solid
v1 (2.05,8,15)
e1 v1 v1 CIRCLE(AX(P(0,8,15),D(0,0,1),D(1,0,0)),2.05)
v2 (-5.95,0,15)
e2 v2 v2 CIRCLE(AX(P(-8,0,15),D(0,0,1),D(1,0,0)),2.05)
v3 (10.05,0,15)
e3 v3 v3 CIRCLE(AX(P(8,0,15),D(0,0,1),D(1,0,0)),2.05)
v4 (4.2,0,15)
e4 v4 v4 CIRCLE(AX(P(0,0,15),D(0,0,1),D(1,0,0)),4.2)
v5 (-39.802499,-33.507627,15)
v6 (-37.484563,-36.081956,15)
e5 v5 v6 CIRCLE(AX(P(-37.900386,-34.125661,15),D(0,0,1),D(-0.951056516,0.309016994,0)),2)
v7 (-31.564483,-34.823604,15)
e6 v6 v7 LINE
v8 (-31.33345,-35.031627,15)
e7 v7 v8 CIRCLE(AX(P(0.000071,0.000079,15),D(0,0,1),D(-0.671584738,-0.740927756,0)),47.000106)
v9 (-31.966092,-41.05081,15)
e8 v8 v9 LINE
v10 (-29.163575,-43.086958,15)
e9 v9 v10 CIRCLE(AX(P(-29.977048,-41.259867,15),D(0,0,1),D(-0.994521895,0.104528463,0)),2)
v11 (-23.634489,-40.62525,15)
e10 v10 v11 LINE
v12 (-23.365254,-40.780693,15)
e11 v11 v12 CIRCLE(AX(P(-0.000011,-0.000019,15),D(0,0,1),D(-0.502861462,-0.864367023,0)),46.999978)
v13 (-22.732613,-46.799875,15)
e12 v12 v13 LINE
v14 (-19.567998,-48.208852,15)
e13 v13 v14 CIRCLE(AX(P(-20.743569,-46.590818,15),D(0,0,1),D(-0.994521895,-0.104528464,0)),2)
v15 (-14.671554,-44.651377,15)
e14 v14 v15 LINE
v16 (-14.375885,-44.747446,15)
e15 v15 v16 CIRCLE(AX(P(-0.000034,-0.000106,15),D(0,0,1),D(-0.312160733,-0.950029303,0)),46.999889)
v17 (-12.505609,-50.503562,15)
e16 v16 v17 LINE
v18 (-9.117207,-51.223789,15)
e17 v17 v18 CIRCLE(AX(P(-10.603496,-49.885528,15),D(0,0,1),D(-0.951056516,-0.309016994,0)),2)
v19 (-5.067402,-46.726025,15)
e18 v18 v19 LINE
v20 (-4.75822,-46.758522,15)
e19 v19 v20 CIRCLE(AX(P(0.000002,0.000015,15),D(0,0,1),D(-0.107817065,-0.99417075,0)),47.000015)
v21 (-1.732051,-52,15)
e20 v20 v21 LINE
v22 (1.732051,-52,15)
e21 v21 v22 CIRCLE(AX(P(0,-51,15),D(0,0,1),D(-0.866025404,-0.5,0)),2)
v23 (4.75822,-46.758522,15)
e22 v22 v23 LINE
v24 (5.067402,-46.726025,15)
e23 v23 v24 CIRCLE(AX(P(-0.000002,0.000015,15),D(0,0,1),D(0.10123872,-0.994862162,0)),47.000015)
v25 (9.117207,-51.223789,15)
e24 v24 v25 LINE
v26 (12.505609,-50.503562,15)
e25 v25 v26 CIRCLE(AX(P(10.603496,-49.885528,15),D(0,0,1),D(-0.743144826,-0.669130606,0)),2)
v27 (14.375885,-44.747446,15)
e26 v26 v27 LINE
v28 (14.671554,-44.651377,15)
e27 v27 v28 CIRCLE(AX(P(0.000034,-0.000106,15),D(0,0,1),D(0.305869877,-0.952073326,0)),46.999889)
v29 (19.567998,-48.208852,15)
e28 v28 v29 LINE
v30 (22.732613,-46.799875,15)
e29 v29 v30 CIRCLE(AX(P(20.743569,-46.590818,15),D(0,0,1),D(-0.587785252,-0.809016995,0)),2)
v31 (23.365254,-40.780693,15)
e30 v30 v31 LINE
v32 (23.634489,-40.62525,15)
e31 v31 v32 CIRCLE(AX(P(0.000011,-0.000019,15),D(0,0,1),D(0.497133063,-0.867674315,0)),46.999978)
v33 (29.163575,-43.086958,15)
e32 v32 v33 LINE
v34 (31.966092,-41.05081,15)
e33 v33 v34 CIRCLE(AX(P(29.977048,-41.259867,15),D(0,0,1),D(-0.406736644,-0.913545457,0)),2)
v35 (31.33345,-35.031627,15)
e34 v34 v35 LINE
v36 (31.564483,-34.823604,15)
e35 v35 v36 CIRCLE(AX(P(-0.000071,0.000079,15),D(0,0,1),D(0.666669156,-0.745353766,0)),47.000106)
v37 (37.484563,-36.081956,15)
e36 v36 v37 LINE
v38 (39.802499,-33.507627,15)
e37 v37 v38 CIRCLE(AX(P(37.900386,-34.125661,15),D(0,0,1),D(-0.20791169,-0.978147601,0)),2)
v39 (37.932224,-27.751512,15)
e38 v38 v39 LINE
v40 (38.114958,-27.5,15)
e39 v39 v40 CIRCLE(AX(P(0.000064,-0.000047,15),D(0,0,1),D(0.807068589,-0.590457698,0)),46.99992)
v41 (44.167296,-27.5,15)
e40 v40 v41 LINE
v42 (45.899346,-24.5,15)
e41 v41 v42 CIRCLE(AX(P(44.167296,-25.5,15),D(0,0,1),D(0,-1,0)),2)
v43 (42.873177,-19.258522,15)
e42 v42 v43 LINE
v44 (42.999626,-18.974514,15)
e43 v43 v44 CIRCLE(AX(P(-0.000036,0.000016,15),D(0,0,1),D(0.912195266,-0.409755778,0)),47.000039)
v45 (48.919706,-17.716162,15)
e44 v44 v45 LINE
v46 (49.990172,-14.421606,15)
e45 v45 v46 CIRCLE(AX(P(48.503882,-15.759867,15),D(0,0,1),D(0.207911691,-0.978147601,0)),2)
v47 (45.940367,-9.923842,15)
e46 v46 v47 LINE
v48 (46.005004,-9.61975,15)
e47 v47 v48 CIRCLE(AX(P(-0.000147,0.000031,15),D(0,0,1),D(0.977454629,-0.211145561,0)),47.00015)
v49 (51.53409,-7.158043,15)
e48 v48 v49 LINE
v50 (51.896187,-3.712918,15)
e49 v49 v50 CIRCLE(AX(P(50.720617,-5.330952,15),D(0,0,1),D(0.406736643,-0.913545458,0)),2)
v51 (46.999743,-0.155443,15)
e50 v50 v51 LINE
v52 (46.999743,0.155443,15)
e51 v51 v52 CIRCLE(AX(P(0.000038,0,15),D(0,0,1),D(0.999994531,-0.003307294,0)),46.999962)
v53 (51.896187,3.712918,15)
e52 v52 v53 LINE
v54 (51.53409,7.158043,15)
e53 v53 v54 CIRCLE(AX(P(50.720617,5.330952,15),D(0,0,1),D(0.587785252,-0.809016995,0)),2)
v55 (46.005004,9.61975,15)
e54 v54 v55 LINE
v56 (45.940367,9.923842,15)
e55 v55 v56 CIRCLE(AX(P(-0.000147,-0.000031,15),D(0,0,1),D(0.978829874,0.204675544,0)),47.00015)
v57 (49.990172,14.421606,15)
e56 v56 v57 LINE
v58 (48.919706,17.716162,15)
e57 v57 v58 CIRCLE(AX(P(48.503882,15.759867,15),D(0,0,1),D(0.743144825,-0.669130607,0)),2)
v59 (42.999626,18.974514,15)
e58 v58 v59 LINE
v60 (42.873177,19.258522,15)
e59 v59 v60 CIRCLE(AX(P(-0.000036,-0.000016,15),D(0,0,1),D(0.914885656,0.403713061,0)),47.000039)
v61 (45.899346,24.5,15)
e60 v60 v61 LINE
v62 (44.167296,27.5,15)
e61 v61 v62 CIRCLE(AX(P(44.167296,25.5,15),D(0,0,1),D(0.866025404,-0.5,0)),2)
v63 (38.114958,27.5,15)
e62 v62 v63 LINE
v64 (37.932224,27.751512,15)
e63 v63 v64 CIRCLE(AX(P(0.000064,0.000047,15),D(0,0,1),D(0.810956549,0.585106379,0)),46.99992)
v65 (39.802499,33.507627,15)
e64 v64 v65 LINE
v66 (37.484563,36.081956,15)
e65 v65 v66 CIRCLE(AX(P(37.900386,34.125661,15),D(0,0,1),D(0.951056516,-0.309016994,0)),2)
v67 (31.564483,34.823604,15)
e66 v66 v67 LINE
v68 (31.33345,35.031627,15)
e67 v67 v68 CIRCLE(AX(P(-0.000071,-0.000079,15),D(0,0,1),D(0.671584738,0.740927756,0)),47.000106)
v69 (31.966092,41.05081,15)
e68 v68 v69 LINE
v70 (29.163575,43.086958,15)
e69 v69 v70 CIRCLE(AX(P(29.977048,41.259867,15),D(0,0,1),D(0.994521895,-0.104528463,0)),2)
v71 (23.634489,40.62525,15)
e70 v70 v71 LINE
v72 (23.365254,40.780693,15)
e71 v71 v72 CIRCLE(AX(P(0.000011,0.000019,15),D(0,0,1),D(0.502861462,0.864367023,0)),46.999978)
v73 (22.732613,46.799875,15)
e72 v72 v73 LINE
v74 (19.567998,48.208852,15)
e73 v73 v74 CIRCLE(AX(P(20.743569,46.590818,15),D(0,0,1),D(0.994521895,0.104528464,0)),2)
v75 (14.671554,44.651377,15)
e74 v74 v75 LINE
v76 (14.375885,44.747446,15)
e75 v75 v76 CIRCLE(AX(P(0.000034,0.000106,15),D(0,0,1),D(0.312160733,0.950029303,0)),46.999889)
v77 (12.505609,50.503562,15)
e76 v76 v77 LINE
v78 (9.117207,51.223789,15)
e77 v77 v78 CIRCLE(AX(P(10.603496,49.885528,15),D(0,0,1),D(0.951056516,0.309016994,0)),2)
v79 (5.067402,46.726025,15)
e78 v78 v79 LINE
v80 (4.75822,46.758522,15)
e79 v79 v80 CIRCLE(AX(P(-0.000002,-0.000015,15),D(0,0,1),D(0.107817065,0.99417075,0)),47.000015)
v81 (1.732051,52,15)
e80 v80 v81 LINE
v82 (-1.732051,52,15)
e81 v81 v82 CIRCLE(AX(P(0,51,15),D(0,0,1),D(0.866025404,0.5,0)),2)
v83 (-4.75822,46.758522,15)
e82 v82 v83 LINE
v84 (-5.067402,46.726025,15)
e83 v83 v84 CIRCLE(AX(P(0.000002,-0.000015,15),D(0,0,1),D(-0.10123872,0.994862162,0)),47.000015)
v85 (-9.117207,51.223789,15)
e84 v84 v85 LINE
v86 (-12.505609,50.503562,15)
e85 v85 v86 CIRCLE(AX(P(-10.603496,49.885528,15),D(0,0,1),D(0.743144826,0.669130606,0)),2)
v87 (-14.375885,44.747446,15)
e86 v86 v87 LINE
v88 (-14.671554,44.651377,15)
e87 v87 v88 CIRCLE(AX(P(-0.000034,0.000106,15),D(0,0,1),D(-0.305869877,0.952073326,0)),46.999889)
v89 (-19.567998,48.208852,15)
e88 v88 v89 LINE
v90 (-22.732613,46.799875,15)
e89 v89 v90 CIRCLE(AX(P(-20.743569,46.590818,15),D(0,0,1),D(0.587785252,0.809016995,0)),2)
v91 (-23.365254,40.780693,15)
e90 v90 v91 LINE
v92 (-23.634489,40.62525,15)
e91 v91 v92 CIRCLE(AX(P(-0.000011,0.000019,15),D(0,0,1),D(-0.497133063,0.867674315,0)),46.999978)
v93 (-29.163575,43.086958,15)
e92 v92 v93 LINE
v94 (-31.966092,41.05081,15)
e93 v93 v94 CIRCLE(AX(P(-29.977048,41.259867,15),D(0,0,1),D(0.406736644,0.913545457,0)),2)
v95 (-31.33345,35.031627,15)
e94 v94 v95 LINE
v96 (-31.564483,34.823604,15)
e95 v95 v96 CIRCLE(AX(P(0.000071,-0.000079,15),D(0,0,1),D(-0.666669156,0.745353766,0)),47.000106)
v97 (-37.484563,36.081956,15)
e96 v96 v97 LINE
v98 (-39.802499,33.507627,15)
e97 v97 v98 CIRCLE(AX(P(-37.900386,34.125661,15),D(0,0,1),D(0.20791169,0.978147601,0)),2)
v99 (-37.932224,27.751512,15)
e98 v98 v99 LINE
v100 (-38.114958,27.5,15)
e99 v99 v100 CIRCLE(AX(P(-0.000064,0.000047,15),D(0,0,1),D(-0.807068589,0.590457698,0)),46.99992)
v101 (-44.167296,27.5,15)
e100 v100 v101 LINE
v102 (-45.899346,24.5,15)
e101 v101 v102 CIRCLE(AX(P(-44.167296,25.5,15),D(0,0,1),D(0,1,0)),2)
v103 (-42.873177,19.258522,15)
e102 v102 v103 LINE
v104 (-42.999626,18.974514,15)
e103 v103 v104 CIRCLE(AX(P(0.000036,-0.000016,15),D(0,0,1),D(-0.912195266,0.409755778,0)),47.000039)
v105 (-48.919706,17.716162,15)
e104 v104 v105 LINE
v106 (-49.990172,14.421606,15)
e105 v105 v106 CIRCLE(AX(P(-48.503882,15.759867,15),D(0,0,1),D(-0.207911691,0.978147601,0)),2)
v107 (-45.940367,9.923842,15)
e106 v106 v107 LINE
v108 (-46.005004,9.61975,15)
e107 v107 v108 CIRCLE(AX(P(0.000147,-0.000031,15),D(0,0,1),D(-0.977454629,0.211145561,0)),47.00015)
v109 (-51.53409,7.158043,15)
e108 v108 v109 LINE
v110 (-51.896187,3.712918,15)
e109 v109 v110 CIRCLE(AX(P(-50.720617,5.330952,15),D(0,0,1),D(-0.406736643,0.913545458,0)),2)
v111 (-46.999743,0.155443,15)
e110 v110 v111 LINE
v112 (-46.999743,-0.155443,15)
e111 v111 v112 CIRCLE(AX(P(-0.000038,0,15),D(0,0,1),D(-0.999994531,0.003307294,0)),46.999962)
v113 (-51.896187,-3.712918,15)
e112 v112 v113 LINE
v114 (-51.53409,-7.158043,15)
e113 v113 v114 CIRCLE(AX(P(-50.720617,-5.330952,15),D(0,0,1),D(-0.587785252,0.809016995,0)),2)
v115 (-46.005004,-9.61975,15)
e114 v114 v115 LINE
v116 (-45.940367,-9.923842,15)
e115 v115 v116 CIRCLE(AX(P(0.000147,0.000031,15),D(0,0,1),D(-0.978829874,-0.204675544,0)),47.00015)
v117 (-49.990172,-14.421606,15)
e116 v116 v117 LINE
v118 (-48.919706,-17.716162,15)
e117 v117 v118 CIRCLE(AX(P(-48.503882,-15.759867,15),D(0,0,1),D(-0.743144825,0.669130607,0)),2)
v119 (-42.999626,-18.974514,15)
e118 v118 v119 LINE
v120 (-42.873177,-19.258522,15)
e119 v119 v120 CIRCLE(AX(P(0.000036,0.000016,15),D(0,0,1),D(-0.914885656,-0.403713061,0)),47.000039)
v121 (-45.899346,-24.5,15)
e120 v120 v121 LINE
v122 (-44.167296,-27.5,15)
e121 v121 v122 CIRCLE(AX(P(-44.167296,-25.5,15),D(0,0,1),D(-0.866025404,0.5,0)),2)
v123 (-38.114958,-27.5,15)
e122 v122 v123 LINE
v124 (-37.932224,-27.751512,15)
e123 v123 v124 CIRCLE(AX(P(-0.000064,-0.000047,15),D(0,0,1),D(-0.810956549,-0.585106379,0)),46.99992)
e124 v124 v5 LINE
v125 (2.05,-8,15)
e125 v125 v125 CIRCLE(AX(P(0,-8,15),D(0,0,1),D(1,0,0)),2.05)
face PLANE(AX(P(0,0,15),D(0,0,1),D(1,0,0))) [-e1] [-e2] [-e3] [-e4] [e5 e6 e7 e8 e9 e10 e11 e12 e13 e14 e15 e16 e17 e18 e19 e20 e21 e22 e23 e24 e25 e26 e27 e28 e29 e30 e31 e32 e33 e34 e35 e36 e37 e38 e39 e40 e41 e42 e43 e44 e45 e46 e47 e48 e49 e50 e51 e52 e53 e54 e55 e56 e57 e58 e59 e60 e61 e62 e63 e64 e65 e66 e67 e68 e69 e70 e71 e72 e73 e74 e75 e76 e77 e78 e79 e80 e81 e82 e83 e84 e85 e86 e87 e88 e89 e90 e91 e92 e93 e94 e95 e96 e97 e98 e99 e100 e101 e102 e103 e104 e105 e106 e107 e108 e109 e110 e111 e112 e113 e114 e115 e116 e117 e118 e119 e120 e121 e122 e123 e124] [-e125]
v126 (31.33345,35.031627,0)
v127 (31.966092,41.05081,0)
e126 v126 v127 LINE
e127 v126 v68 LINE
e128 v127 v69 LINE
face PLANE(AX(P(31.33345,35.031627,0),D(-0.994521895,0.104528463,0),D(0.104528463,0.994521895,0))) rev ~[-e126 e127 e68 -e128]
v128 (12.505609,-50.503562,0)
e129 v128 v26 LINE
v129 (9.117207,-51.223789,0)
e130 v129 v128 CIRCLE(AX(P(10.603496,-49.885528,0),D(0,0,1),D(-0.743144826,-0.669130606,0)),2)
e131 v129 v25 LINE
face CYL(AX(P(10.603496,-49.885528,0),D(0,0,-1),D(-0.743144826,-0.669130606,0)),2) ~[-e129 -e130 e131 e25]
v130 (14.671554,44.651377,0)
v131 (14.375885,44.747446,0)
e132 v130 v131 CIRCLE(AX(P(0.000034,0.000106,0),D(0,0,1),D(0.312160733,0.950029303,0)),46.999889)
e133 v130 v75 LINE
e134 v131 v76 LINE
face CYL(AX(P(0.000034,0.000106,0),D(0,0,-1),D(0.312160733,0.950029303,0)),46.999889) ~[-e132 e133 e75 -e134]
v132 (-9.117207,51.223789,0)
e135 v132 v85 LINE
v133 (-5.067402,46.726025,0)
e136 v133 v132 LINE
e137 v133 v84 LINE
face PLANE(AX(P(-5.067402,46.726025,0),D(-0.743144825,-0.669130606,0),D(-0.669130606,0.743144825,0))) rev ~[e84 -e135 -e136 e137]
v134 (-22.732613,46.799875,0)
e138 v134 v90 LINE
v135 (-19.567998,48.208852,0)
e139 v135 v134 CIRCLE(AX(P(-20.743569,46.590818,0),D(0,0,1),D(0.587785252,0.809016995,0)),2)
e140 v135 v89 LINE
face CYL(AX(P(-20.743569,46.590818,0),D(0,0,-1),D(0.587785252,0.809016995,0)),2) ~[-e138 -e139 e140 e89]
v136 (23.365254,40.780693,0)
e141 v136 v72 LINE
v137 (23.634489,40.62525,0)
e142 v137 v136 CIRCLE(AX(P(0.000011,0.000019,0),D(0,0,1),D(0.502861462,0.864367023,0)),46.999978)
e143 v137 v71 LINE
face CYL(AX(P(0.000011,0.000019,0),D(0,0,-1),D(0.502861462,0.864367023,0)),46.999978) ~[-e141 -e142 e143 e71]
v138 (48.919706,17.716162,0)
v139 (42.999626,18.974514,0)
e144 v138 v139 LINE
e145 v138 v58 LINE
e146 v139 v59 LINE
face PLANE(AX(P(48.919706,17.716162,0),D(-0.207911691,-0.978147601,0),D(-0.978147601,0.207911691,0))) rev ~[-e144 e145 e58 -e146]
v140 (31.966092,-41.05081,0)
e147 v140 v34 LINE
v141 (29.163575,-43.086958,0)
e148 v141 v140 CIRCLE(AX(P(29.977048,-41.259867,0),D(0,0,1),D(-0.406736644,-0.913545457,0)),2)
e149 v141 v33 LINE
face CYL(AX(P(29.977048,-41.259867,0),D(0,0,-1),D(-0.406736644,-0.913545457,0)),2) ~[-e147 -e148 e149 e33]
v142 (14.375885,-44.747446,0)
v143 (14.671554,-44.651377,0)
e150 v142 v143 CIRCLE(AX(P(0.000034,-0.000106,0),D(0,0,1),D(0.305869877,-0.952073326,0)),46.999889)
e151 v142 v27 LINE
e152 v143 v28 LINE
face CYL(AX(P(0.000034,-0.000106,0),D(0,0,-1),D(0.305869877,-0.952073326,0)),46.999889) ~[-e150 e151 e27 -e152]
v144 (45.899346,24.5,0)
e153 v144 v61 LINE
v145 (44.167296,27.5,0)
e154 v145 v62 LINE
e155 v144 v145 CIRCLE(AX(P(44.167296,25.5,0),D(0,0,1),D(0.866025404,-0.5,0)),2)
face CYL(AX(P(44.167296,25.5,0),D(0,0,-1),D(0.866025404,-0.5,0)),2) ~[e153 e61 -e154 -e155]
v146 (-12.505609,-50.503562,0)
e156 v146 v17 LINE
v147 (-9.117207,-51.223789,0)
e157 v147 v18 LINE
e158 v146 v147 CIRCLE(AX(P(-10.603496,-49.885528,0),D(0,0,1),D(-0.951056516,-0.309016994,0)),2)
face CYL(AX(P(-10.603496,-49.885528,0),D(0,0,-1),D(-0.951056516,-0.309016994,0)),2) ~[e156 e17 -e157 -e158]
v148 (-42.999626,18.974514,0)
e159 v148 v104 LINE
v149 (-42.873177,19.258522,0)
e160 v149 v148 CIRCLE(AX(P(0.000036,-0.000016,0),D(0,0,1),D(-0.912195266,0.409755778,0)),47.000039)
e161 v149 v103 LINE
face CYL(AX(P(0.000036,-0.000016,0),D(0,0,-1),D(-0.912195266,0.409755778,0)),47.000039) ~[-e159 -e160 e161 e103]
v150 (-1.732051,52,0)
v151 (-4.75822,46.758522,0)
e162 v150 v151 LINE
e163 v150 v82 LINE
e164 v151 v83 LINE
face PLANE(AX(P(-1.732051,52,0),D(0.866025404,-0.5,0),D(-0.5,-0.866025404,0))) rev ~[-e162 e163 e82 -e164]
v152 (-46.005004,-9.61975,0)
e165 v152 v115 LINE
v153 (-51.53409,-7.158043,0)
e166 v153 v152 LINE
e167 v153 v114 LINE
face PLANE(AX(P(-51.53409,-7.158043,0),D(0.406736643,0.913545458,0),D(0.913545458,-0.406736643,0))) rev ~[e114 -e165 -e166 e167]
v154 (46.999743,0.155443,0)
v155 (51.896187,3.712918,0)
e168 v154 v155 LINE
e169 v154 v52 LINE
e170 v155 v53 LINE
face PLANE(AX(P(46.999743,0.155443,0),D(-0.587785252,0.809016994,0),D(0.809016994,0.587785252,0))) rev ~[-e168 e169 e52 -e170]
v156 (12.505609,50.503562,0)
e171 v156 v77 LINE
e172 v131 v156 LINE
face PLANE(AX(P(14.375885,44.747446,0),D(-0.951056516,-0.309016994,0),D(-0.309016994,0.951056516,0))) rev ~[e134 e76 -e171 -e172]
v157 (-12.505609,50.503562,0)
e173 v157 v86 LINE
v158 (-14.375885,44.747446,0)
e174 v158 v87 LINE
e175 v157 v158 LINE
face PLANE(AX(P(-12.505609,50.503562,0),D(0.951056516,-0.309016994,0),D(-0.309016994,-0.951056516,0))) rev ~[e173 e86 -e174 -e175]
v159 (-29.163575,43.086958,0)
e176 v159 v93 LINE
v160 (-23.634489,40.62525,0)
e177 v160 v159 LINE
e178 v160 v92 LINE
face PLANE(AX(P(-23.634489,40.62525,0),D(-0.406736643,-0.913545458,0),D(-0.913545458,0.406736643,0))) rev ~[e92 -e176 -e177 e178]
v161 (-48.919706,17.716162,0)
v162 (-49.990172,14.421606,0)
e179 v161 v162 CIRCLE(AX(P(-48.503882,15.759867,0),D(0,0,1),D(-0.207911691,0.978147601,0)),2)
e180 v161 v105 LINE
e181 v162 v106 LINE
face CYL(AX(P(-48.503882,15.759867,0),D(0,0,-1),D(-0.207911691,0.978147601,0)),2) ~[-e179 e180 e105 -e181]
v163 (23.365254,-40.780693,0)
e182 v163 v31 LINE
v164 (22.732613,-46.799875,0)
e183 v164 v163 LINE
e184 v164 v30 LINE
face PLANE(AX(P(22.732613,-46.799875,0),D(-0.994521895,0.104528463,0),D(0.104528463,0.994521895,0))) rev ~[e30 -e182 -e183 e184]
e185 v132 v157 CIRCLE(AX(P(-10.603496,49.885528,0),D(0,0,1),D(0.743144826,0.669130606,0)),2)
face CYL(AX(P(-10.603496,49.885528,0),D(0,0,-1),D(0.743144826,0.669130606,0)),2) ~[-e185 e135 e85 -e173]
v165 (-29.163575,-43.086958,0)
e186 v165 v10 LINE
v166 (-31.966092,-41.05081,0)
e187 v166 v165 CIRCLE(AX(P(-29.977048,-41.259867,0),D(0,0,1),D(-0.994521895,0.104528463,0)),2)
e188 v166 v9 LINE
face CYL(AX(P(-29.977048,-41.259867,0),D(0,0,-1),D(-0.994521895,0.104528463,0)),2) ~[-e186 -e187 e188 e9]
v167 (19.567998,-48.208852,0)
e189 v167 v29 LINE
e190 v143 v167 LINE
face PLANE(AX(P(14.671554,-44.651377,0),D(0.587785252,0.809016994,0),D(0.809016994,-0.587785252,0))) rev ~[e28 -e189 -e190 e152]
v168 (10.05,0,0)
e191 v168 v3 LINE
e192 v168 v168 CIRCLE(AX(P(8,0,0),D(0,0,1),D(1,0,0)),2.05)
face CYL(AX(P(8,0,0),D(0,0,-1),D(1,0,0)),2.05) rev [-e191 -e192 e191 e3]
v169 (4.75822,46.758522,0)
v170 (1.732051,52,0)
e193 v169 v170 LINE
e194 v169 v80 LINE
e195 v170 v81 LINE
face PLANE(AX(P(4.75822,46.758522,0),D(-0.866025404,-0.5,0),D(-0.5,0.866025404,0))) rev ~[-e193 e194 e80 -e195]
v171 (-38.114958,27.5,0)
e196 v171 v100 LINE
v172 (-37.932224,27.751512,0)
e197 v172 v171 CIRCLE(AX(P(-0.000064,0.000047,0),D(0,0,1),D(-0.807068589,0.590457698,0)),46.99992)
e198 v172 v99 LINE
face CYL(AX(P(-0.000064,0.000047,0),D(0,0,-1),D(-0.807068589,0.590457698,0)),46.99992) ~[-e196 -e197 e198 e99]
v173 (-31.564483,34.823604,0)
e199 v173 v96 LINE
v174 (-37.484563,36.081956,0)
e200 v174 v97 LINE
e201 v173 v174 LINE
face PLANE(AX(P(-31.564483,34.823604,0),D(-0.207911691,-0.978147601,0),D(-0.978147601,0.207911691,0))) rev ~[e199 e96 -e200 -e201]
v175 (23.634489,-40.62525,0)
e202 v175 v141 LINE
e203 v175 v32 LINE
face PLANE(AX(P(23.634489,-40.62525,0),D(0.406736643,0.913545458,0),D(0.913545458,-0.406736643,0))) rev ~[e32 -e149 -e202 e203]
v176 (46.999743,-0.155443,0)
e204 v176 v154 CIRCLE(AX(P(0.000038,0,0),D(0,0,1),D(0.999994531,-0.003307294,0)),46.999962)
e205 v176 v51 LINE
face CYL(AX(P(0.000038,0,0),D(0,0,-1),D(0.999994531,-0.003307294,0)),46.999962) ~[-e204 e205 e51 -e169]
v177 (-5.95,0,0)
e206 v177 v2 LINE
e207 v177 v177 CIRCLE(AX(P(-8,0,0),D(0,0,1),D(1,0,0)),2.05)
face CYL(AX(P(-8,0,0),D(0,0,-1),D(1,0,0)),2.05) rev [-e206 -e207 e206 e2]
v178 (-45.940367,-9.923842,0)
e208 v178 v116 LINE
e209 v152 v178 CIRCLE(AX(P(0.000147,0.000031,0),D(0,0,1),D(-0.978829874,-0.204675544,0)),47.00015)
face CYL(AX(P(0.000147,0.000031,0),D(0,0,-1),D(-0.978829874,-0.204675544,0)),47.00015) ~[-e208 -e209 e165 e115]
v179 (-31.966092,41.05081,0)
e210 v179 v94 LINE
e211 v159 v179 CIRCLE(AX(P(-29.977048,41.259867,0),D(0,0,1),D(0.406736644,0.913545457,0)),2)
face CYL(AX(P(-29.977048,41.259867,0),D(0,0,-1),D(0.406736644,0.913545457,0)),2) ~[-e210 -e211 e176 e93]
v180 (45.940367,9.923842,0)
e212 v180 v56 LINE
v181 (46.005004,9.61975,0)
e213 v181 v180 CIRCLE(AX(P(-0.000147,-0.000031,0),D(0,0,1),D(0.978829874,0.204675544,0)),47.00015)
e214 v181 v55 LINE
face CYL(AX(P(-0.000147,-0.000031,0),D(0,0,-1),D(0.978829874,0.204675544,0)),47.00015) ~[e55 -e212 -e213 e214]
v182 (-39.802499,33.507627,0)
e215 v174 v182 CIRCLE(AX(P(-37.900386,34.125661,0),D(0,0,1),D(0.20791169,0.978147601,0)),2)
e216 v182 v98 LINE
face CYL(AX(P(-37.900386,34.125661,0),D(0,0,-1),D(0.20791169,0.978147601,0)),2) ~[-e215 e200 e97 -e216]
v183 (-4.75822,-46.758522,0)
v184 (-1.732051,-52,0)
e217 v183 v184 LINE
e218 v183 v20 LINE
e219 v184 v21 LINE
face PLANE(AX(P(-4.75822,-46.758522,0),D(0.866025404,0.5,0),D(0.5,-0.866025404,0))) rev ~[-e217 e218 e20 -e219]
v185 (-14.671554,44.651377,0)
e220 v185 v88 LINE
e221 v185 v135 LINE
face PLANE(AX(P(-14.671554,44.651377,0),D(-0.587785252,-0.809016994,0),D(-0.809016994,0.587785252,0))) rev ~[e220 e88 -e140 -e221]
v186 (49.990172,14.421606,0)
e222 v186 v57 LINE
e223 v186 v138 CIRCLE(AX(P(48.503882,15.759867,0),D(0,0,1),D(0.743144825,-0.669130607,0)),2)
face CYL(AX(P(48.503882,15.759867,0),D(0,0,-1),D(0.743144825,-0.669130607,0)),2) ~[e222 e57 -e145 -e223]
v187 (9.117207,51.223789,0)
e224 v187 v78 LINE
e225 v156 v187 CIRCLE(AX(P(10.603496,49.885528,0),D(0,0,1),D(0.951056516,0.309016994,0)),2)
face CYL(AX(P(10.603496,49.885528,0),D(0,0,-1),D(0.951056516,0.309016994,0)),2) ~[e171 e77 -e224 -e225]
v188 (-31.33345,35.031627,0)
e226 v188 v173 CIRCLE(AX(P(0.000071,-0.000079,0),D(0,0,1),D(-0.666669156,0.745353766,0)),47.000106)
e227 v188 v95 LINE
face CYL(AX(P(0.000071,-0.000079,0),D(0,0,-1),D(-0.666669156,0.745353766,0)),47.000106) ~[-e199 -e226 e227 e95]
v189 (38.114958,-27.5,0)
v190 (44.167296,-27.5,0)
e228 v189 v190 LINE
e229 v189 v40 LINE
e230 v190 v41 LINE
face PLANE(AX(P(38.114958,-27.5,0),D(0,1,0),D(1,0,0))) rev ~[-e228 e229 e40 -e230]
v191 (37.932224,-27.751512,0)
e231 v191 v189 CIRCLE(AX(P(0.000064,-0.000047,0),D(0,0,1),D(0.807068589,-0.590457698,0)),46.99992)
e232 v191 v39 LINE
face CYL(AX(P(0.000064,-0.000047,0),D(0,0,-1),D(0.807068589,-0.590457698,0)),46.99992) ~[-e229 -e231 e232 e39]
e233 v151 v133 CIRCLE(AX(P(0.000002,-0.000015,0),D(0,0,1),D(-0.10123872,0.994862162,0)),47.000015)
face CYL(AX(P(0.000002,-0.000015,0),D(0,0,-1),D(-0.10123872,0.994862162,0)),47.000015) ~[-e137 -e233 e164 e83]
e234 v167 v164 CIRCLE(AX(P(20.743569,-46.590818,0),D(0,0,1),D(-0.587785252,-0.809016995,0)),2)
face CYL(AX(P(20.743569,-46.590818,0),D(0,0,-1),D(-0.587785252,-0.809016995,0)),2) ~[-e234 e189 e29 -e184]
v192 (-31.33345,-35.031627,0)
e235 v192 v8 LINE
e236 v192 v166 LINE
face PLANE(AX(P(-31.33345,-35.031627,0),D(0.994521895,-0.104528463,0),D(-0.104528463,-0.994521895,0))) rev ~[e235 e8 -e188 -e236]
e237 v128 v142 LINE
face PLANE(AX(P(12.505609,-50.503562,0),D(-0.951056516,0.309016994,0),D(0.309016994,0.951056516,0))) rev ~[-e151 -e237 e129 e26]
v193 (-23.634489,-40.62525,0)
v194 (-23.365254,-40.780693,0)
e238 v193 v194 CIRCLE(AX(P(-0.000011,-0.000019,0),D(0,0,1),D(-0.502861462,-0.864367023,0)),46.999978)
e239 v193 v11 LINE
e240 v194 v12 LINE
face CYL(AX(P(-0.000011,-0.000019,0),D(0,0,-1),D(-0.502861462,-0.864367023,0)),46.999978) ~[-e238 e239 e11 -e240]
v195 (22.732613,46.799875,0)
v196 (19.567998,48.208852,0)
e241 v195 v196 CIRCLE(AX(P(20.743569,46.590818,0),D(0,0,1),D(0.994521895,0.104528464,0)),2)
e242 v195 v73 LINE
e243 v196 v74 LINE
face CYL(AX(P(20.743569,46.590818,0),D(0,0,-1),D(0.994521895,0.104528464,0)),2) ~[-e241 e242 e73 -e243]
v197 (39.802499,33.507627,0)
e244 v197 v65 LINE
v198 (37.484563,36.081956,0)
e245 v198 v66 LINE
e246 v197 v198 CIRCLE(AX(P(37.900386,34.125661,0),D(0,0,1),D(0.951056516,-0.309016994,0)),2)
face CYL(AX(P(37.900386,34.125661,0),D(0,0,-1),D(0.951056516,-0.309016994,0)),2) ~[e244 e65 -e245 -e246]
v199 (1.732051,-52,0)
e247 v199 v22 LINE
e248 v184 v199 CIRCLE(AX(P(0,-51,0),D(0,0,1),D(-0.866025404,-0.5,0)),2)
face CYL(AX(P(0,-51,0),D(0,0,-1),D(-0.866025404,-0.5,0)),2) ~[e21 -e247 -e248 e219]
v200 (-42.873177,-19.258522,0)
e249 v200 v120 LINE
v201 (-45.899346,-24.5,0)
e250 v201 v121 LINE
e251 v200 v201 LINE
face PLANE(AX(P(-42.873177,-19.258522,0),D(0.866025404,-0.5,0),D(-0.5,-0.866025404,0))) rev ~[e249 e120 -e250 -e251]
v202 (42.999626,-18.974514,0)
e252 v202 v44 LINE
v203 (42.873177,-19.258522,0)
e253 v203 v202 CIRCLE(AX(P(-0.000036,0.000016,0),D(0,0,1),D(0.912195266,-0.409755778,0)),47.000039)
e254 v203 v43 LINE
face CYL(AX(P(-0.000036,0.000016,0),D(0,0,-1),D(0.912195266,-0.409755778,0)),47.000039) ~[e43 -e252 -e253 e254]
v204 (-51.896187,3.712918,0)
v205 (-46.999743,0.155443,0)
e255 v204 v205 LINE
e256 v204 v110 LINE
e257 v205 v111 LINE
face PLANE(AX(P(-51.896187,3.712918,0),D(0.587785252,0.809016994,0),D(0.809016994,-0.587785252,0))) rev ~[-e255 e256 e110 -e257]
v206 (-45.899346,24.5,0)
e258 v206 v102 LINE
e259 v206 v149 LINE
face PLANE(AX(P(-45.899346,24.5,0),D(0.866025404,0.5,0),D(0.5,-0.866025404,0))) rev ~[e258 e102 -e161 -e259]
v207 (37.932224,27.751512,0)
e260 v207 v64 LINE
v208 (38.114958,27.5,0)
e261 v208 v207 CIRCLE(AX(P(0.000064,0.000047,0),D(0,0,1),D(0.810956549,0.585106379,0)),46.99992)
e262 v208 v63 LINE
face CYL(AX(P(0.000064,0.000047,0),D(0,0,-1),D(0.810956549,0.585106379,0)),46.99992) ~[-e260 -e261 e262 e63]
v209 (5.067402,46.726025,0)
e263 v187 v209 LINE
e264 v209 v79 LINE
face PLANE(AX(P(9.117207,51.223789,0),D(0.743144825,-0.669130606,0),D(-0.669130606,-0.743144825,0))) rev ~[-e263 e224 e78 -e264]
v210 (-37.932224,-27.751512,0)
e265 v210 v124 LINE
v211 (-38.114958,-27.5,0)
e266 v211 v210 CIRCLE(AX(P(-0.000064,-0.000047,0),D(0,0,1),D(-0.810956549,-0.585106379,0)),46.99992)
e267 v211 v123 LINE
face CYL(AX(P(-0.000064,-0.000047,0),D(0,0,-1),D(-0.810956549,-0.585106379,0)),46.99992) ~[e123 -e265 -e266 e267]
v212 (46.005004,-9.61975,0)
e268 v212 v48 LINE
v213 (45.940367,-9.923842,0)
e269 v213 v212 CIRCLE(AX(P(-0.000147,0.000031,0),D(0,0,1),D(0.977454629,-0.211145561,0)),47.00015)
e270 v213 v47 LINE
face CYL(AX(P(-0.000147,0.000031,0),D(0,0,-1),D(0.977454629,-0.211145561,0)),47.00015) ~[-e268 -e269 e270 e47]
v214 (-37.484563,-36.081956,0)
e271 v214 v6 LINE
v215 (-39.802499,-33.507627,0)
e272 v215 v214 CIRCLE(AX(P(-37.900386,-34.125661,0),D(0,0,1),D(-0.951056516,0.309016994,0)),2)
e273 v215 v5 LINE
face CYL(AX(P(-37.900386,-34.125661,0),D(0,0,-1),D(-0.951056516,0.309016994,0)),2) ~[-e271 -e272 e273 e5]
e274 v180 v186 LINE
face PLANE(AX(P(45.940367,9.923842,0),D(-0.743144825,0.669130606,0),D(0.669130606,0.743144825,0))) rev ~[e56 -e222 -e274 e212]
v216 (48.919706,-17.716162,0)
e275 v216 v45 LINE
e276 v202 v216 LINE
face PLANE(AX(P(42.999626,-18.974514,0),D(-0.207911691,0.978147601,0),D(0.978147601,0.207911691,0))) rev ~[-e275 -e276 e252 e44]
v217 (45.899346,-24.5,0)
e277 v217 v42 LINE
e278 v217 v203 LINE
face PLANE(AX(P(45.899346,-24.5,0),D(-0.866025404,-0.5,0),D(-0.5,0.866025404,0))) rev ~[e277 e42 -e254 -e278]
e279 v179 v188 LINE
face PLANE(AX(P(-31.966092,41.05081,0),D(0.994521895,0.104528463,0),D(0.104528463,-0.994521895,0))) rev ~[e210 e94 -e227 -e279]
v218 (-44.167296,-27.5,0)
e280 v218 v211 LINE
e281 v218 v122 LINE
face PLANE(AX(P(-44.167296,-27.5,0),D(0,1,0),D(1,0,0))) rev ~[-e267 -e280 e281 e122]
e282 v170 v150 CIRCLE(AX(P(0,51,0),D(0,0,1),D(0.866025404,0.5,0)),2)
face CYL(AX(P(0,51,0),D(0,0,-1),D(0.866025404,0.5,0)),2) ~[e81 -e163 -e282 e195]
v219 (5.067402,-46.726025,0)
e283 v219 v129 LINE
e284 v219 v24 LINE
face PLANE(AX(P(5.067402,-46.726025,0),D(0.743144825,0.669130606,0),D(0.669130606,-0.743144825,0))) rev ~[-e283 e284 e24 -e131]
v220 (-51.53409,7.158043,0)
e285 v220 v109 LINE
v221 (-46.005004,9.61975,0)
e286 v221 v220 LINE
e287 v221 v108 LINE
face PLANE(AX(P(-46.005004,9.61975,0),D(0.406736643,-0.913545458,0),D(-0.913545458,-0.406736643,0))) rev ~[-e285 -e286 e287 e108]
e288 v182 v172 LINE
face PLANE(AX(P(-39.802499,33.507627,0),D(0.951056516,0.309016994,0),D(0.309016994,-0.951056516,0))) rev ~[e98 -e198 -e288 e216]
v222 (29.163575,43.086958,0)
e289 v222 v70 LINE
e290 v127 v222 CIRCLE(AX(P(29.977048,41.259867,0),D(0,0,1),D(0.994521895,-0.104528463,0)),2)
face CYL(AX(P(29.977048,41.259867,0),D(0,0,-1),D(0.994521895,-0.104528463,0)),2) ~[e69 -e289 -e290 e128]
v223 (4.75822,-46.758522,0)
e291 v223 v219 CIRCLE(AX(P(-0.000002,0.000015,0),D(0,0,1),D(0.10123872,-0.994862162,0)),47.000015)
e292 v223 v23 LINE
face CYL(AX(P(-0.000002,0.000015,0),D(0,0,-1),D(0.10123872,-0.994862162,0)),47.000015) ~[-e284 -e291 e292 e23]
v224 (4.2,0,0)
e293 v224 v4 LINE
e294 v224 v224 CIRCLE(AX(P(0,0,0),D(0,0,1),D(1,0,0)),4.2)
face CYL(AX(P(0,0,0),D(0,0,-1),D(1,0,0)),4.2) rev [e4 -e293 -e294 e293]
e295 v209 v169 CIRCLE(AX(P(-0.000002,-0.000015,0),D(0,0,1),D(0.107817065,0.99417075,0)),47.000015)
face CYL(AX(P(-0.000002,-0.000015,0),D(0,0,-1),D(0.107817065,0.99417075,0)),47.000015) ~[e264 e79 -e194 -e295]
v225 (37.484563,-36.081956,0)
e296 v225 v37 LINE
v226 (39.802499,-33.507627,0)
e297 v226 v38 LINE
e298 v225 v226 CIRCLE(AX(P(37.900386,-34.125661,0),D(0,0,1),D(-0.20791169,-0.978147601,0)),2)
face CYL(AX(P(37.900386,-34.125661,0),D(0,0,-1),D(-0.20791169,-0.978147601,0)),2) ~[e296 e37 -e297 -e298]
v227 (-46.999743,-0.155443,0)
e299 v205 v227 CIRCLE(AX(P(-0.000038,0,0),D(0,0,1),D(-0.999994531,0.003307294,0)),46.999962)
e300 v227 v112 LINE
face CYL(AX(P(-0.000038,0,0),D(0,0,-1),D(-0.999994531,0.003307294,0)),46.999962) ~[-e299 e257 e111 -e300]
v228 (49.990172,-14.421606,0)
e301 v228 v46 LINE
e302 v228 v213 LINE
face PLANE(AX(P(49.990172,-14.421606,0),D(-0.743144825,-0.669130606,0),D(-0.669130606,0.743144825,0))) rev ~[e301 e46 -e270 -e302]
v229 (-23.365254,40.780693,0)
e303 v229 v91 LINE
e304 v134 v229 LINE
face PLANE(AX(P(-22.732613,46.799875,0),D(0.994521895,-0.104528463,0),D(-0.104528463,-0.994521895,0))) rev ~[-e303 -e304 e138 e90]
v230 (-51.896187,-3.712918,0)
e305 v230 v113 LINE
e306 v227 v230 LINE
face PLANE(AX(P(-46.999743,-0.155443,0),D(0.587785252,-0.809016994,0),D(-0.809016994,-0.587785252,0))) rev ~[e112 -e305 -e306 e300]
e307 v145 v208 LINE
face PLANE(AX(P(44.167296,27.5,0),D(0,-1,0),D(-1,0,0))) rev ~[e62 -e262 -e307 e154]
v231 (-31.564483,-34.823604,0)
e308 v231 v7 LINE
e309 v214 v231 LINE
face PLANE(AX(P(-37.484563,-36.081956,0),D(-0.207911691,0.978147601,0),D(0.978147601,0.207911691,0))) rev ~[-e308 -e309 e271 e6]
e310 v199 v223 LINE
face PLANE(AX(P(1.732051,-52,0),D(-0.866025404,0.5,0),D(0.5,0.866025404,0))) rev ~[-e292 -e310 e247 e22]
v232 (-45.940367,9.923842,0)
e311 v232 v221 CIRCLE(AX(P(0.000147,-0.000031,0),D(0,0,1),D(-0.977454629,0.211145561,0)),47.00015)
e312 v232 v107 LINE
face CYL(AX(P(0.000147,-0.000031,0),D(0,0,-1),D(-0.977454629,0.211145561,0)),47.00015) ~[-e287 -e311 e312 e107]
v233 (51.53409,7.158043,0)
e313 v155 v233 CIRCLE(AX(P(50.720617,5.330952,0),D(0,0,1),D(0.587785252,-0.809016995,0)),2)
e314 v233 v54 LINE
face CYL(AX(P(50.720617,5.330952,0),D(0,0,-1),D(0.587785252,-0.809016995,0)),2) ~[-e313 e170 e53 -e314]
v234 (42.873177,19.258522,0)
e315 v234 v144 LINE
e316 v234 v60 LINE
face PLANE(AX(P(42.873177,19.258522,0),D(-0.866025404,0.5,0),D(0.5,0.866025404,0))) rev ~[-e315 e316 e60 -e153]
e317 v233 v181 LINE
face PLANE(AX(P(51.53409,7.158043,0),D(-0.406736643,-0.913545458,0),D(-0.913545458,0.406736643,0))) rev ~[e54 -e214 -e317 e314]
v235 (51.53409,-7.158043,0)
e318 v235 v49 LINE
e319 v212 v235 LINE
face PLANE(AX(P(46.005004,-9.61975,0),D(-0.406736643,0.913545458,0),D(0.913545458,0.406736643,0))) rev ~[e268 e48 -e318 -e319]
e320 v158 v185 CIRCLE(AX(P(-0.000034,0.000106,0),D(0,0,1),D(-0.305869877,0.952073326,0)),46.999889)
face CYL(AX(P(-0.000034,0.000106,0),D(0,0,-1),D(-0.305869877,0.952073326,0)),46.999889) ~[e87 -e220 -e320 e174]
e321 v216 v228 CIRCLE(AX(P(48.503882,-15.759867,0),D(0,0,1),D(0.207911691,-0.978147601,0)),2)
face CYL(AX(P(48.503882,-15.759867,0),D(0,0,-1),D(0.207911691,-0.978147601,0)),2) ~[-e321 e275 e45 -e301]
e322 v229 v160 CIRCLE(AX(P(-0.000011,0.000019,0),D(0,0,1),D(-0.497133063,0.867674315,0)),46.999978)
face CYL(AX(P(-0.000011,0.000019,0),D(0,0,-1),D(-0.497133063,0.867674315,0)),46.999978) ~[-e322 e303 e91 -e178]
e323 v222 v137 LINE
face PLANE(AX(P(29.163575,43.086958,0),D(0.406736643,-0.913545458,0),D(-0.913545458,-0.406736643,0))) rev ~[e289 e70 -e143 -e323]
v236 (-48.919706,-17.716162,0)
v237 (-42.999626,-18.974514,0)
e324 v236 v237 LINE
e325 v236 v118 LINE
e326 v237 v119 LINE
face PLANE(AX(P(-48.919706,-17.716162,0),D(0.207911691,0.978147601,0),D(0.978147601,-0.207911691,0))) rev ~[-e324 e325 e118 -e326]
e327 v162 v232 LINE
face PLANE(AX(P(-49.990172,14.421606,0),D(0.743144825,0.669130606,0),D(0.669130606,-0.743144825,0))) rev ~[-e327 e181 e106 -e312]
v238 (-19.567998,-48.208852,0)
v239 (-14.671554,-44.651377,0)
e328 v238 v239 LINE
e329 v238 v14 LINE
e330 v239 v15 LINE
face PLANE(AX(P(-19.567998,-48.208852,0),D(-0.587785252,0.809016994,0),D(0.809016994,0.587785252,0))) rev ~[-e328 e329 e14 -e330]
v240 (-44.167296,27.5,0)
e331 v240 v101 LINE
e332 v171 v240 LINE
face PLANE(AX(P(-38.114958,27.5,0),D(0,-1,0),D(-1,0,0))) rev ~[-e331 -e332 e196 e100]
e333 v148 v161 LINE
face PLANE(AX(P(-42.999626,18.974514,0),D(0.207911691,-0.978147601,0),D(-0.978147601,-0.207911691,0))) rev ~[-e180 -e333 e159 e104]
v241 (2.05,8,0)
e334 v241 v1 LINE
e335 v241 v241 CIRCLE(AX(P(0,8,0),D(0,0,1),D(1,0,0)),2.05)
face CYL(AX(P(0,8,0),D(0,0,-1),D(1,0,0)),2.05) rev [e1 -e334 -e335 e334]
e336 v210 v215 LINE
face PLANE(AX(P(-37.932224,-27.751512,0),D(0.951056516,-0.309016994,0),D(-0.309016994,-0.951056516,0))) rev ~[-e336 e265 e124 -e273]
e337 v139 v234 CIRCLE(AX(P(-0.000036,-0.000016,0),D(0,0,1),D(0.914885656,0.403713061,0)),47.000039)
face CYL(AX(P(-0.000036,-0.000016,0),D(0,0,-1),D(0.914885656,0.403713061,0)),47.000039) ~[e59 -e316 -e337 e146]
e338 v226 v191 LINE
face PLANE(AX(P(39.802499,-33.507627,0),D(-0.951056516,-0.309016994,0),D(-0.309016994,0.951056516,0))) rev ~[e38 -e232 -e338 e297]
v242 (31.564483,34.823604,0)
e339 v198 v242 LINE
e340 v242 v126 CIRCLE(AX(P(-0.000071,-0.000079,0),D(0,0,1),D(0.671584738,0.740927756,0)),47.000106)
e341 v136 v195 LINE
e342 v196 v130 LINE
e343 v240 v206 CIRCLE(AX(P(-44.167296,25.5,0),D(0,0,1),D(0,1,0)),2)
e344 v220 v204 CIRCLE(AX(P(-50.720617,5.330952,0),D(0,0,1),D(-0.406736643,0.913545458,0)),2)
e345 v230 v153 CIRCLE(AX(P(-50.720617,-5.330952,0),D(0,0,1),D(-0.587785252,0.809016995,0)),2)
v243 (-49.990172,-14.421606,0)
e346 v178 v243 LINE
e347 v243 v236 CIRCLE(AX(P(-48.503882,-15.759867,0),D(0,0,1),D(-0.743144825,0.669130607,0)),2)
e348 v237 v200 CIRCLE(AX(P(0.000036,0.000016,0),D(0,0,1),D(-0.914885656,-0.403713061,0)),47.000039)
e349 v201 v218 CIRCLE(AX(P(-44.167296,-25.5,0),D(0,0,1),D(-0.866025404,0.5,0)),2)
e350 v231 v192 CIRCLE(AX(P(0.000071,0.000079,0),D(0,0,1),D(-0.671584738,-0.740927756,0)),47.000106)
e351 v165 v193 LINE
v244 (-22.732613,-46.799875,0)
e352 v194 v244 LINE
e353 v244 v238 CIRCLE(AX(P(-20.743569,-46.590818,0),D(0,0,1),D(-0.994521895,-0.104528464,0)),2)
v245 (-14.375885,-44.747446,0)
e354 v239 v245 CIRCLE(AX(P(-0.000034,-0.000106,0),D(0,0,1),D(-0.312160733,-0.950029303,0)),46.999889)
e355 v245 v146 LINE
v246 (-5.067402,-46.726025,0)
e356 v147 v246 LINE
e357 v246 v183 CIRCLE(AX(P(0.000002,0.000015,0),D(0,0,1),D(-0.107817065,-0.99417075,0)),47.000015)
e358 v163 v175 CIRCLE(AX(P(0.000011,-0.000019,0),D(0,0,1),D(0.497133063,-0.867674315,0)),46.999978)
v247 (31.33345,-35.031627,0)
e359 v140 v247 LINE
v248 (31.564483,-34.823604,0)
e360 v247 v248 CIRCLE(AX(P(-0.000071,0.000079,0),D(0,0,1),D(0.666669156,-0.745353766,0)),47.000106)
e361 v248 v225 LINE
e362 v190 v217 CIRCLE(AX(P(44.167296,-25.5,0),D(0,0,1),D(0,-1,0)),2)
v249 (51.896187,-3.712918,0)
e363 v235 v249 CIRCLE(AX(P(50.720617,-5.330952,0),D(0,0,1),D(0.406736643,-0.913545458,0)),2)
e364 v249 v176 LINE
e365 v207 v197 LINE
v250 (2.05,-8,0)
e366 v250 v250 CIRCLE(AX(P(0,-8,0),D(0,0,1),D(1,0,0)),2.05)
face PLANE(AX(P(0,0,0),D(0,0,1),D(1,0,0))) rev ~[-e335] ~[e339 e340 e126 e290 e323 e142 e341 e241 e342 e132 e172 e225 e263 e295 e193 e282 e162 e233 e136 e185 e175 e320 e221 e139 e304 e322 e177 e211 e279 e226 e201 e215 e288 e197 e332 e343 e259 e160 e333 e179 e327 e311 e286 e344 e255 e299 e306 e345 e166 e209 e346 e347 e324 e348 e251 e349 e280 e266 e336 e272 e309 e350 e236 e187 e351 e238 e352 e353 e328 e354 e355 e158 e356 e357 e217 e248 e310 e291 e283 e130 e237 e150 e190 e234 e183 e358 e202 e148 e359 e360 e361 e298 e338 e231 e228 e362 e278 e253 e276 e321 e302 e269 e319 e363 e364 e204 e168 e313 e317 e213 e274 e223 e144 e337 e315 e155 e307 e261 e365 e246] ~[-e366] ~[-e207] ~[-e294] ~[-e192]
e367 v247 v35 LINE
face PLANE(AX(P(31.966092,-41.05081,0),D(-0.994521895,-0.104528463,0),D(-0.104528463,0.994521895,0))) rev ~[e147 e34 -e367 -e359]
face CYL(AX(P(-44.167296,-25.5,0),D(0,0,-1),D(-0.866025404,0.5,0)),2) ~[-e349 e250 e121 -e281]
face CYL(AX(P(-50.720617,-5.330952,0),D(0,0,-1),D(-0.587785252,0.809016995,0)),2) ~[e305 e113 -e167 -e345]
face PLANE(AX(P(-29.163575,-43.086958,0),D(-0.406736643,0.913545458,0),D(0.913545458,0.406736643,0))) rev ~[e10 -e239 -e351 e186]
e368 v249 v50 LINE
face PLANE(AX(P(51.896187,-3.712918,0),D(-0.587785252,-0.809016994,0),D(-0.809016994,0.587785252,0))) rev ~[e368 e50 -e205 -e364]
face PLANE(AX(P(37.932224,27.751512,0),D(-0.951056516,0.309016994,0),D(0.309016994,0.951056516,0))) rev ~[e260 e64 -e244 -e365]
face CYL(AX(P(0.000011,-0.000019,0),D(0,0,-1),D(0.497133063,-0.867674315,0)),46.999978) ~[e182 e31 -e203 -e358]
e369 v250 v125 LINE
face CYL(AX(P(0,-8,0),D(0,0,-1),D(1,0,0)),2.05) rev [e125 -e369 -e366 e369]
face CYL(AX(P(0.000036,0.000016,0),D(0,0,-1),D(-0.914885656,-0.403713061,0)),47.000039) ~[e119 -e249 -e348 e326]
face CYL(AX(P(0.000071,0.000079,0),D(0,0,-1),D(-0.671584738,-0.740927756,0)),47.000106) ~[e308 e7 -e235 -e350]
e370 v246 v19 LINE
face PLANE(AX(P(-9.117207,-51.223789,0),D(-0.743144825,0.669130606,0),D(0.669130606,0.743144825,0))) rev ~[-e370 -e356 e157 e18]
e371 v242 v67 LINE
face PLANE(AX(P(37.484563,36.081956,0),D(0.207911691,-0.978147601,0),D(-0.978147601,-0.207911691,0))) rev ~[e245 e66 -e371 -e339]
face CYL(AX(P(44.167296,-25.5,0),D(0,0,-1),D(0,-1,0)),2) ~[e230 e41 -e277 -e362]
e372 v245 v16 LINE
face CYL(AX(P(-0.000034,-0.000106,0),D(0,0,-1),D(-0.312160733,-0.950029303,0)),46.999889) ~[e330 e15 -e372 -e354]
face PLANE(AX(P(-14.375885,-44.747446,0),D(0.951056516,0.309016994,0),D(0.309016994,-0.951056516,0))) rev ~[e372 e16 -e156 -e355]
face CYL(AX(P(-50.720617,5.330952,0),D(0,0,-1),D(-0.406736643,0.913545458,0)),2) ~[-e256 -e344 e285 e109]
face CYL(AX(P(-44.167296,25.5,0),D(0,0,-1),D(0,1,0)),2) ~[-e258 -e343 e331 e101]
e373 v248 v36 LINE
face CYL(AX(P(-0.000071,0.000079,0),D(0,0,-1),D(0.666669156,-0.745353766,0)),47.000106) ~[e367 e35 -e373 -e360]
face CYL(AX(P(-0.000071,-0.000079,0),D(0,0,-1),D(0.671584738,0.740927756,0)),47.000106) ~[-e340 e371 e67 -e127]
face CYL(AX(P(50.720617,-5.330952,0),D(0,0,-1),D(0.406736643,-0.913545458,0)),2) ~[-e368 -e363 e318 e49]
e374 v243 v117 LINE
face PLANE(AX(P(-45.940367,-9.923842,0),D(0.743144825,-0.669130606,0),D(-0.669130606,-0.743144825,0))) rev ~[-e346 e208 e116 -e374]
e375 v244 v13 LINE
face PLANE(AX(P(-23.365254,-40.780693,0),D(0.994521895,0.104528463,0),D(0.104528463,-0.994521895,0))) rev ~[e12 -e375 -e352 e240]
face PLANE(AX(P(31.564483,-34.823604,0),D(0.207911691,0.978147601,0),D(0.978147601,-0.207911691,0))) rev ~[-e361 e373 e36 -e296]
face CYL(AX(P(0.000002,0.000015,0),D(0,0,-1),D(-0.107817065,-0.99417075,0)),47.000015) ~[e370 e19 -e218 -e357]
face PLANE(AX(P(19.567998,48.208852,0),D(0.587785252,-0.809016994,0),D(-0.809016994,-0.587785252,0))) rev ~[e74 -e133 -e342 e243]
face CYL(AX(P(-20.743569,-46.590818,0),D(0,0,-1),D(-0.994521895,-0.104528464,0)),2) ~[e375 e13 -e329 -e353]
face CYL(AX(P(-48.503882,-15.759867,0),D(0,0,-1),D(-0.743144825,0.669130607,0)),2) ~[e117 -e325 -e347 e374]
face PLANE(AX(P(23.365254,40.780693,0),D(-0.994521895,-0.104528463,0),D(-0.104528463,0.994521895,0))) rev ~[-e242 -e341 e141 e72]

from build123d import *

# Parameters (mm, degrees)
SKETCH1_R           = 4.2
SKETCH1_R_2         = 2.05
BOSS_EXTRUDE1_DEPTH = 15


with BuildPart() as part:
    # Sketch1 → Boss-Extrude1 (new body)
    with BuildSketch(Plane.XY):
        with BuildLine():
            Line((-1.732050808, 52), (-4.758219757, 46.758521627))
            ThreePointArc((-4.758219757, 46.758521627), (-4.912837774, 46.742529082), (-5.067402052, 46.726025258))
            Line((-5.067402052, 46.726025258), (-9.117206581, 51.22378885))
            ThreePointArc((-9.117206581, 51.22378885), (-11.019319613, 51.841822839), (-12.505609264, 50.503561626))
            Line((-12.505609264, 50.503561626), (-14.375884531, 44.747446228))
            ThreePointArc((-14.375884531, 44.747446228), (-14.523798736, 44.699656266), (-14.671554076, 44.651377369))
            Line((-14.671554076, 44.651377369), (-19.567998292, 48.208852329))
            ThreePointArc((-19.567998292, 48.208852329), (-21.557042083, 48.417909255), (-22.732612588, 46.799875266))
            Line((-22.732612588, 46.799875266), (-23.365254167, 40.780692707))
            ThreePointArc((-23.365254167, 40.780692707), (-23.5, 40.703193978), (-23.634488785, 40.625250029))
            Line((-23.634488785, 40.625250029), (-29.163574581, 43.086957628))
            ThreePointArc((-29.163574581, 43.086957628), (-31.152618372, 42.877900702), (-31.966091658, 41.050809787))
            Line((-31.966091658, 41.050809787), (-31.333450078, 35.031627228))
            ThreePointArc((-31.333450078, 35.031627228), (-31.449138499, 34.927806797), (-31.564482923, 34.82360432))
            Line((-31.564482923, 34.82360432), (-37.484562718, 36.081956126))
            ThreePointArc((-37.484562718, 36.081956126), (-39.38667575, 35.463922137), (-39.802499132, 33.507626936))
            Line((-39.802499132, 33.507626936), (-37.932223865, 27.751511538))
            ThreePointArc((-37.932223865, 27.751511538), (-38.023798736, 27.625906858), (-38.114957694, 27.5))
            Line((-38.114957694, 27.5), (-44.167295593, 27.5))
            ThreePointArc((-44.167295593, 27.5), (-45.899346401, 26.5), (-45.899346401, 24.5))
            Line((-45.899346401, 24.5), (-42.873177451, 19.258521627))
            ThreePointArc((-42.873177451, 19.258521627), (-42.936636509, 19.116622225), (-42.999625918, 18.974513721))
            Line((-42.999625918, 18.974513721), (-48.919705713, 17.716161915))
            ThreePointArc((-48.919705713, 17.716161915), (-50.405995364, 16.377900702), (-49.990171982, 14.4216055))
            Line((-49.990171982, 14.4216055), (-45.940367454, 9.923841909))
            ThreePointArc((-45.940367454, 9.923841909), (-45.972937234, 9.771849468), (-46.005004154, 9.619750142))
            Line((-46.005004154, 9.619750142), (-51.53408995, 7.158042542))
            ThreePointArc((-51.53408995, 7.158042542), (-52.709660455, 5.540008553), (-51.896187168, 3.712917638))
            Line((-51.896187168, 3.712917638), (-46.999742952, 0.155442679))
            ThreePointArc((-46.999742952, 0.155442679), (-47, 0), (-46.999742952, -0.155442679))
            Line((-46.999742952, -0.155442679), (-51.896187168, -3.712917638))
            ThreePointArc((-51.896187168, -3.712917638), (-52.709660455, -5.540008553), (-51.53408995, -7.158042542))
            Line((-51.53408995, -7.158042542), (-46.005004154, -9.619750142))
            ThreePointArc((-46.005004154, -9.619750142), (-45.972937234, -9.771849468), (-45.940367454, -9.923841909))
            Line((-45.940367454, -9.923841909), (-49.990171982, -14.4216055))
            ThreePointArc((-49.990171982, -14.4216055), (-50.405995364, -16.377900702), (-48.919705713, -17.716161915))
            Line((-48.919705713, -17.716161915), (-42.999625918, -18.974513721))
            ThreePointArc((-42.999625918, -18.974513721), (-42.936636509, -19.116622225), (-42.873177451, -19.258521627))
            Line((-42.873177451, -19.258521627), (-45.899346401, -24.5))
            ThreePointArc((-45.899346401, -24.5), (-45.899346401, -26.5), (-44.167295593, -27.5))
            Line((-44.167295593, -27.5), (-38.114957694, -27.5))
            ThreePointArc((-38.114957694, -27.5), (-38.023798736, -27.625906858), (-37.932223865, -27.751511538))
            Line((-37.932223865, -27.751511538), (-39.802499132, -33.507626936))
            ThreePointArc((-39.802499132, -33.507626936), (-39.38667575, -35.463922137), (-37.484562718, -36.081956126))
            Line((-37.484562718, -36.081956126), (-31.564482923, -34.82360432))
            ThreePointArc((-31.564482923, -34.82360432), (-31.449138499, -34.927806797), (-31.333450078, -35.031627228))
            Line((-31.333450078, -35.031627228), (-31.966091658, -41.050809787))
            ThreePointArc((-31.966091658, -41.050809787), (-31.152618372, -42.877900702), (-29.163574581, -43.086957628))
            Line((-29.163574581, -43.086957628), (-23.634488785, -40.625250029))
            ThreePointArc((-23.634488785, -40.625250029), (-23.5, -40.703193978), (-23.365254167, -40.780692707))
            Line((-23.365254167, -40.780692707), (-22.732612588, -46.799875266))
            ThreePointArc((-22.732612588, -46.799875266), (-21.557042083, -48.417909255), (-19.567998292, -48.208852329))
            Line((-19.567998292, -48.208852329), (-14.671554076, -44.651377369))
            ThreePointArc((-14.671554076, -44.651377369), (-14.523798736, -44.699656266), (-14.375884531, -44.747446228))
            Line((-14.375884531, -44.747446228), (-12.505609264, -50.503561626))
            ThreePointArc((-12.505609264, -50.503561626), (-11.019319613, -51.841822839), (-9.117206581, -51.22378885))
            Line((-9.117206581, -51.22378885), (-5.067402052, -46.726025258))
            ThreePointArc((-5.067402052, -46.726025258), (-4.912837774, -46.742529082), (-4.758219757, -46.758521627))
            Line((-4.758219757, -46.758521627), (-1.732050808, -52))
            ThreePointArc((-1.732050808, -52), (0, -53), (1.732050808, -52))
            Line((1.732050808, -52), (4.758219757, -46.758521627))
            ThreePointArc((4.758219757, -46.758521627), (4.912837774, -46.742529082), (5.067402052, -46.726025258))
            Line((5.067402052, -46.726025258), (9.117206581, -51.22378885))
            ThreePointArc((9.117206581, -51.22378885), (11.019319613, -51.841822839), (12.505609264, -50.503561626))
            Line((12.505609264, -50.503561626), (14.375884531, -44.747446228))
            ThreePointArc((14.375884531, -44.747446228), (14.523798736, -44.699656266), (14.671554076, -44.651377369))
            Line((14.671554076, -44.651377369), (19.567998292, -48.208852329))
            ThreePointArc((19.567998292, -48.208852329), (21.557042083, -48.417909255), (22.732612588, -46.799875266))
            Line((22.732612588, -46.799875266), (23.365254167, -40.780692707))
            ThreePointArc((23.365254167, -40.780692707), (23.5, -40.703193978), (23.634488785, -40.625250029))
            Line((23.634488785, -40.625250029), (29.163574581, -43.086957628))
            ThreePointArc((29.163574581, -43.086957628), (31.152618372, -42.877900702), (31.966091658, -41.050809787))
            Line((31.966091658, -41.050809787), (31.333450078, -35.031627228))
            ThreePointArc((31.333450078, -35.031627228), (31.449138499, -34.927806797), (31.564482923, -34.82360432))
            Line((31.564482923, -34.82360432), (37.484562718, -36.081956126))
            ThreePointArc((37.484562718, -36.081956126), (39.38667575, -35.463922137), (39.802499132, -33.507626936))
            Line((39.802499132, -33.507626936), (37.932223865, -27.751511538))
            ThreePointArc((37.932223865, -27.751511538), (38.023798736, -27.625906858), (38.114957694, -27.5))
            Line((38.114957694, -27.5), (44.167295593, -27.5))
            ThreePointArc((44.167295593, -27.5), (45.899346401, -26.5), (45.899346401, -24.5))
            Line((45.899346401, -24.5), (42.873177451, -19.258521627))
            ThreePointArc((42.873177451, -19.258521627), (42.936636509, -19.116622225), (42.999625918, -18.974513721))
            Line((42.999625918, -18.974513721), (48.919705713, -17.716161915))
            ThreePointArc((48.919705713, -17.716161915), (50.405995364, -16.377900702), (49.990171982, -14.4216055))
            Line((49.990171982, -14.4216055), (45.940367454, -9.923841909))
            ThreePointArc((45.940367454, -9.923841909), (45.972937234, -9.771849468), (46.005004154, -9.619750142))
            Line((46.005004154, -9.619750142), (51.53408995, -7.158042542))
            ThreePointArc((51.53408995, -7.158042542), (52.709660455, -5.540008553), (51.896187168, -3.712917638))
            Line((51.896187168, -3.712917638), (46.999742952, -0.155442679))
            ThreePointArc((46.999742952, -0.155442679), (47, 0), (46.999742952, 0.155442679))
            Line((46.999742952, 0.155442679), (51.896187168, 3.712917638))
            ThreePointArc((51.896187168, 3.712917638), (52.709660455, 5.540008553), (51.53408995, 7.158042542))
            Line((51.53408995, 7.158042542), (46.005004154, 9.619750142))
            ThreePointArc((46.005004154, 9.619750142), (45.972937234, 9.771849468), (45.940367454, 9.923841909))
            Line((45.940367454, 9.923841909), (49.990171982, 14.4216055))
            ThreePointArc((49.990171982, 14.4216055), (50.405995364, 16.377900702), (48.919705713, 17.716161915))
            Line((48.919705713, 17.716161915), (42.999625918, 18.974513721))
            ThreePointArc((42.999625918, 18.974513721), (42.936636509, 19.116622225), (42.873177451, 19.258521627))
            Line((42.873177451, 19.258521627), (45.899346401, 24.5))
            ThreePointArc((45.899346401, 24.5), (45.899346401, 26.5), (44.167295593, 27.5))
            Line((44.167295593, 27.5), (38.114957694, 27.5))
            ThreePointArc((38.114957694, 27.5), (38.023798736, 27.625906858), (37.932223865, 27.751511538))
            Line((37.932223865, 27.751511538), (39.802499132, 33.507626936))
            ThreePointArc((39.802499132, 33.507626936), (39.38667575, 35.463922137), (37.484562718, 36.081956126))
            Line((37.484562718, 36.081956126), (31.564482923, 34.82360432))
            ThreePointArc((31.564482923, 34.82360432), (31.449138499, 34.927806797), (31.333450078, 35.031627228))
            Line((31.333450078, 35.031627228), (31.966091658, 41.050809787))
            ThreePointArc((31.966091658, 41.050809787), (31.152618372, 42.877900702), (29.163574581, 43.086957628))
            Line((29.163574581, 43.086957628), (23.634488785, 40.625250029))
            ThreePointArc((23.634488785, 40.625250029), (23.5, 40.703193978), (23.365254167, 40.780692707))
            Line((23.365254167, 40.780692707), (22.732612588, 46.799875266))
            ThreePointArc((22.732612588, 46.799875266), (21.557042083, 48.417909255), (19.567998292, 48.208852329))
            Line((19.567998292, 48.208852329), (14.671554076, 44.651377369))
            ThreePointArc((14.671554076, 44.651377369), (14.523798736, 44.699656266), (14.375884531, 44.747446228))
            Line((14.375884531, 44.747446228), (12.505609264, 50.503561626))
            ThreePointArc((12.505609264, 50.503561626), (11.019319613, 51.841822839), (9.117206581, 51.22378885))
            Line((9.117206581, 51.22378885), (5.067402052, 46.726025258))
            ThreePointArc((5.067402052, 46.726025258), (4.912837774, 46.742529082), (4.758219757, 46.758521627))
            Line((4.758219757, 46.758521627), (1.732050808, 52))
            ThreePointArc((1.732050808, 52), (0, 53), (-1.732050808, 52))
        make_face()
        Circle(SKETCH1_R, mode=Mode.SUBTRACT)
        with Locations((0, 8)):
            Circle(SKETCH1_R_2, mode=Mode.SUBTRACT)
        with Locations((8, 0)):
            Circle(SKETCH1_R_2, mode=Mode.SUBTRACT)
        with Locations((0, -8)):
            Circle(SKETCH1_R_2, mode=Mode.SUBTRACT)
        with Locations((-8, 0)):
            Circle(SKETCH1_R_2, mode=Mode.SUBTRACT)
    extrude(amount=BOSS_EXTRUDE1_DEPTH)


solid = part.part
